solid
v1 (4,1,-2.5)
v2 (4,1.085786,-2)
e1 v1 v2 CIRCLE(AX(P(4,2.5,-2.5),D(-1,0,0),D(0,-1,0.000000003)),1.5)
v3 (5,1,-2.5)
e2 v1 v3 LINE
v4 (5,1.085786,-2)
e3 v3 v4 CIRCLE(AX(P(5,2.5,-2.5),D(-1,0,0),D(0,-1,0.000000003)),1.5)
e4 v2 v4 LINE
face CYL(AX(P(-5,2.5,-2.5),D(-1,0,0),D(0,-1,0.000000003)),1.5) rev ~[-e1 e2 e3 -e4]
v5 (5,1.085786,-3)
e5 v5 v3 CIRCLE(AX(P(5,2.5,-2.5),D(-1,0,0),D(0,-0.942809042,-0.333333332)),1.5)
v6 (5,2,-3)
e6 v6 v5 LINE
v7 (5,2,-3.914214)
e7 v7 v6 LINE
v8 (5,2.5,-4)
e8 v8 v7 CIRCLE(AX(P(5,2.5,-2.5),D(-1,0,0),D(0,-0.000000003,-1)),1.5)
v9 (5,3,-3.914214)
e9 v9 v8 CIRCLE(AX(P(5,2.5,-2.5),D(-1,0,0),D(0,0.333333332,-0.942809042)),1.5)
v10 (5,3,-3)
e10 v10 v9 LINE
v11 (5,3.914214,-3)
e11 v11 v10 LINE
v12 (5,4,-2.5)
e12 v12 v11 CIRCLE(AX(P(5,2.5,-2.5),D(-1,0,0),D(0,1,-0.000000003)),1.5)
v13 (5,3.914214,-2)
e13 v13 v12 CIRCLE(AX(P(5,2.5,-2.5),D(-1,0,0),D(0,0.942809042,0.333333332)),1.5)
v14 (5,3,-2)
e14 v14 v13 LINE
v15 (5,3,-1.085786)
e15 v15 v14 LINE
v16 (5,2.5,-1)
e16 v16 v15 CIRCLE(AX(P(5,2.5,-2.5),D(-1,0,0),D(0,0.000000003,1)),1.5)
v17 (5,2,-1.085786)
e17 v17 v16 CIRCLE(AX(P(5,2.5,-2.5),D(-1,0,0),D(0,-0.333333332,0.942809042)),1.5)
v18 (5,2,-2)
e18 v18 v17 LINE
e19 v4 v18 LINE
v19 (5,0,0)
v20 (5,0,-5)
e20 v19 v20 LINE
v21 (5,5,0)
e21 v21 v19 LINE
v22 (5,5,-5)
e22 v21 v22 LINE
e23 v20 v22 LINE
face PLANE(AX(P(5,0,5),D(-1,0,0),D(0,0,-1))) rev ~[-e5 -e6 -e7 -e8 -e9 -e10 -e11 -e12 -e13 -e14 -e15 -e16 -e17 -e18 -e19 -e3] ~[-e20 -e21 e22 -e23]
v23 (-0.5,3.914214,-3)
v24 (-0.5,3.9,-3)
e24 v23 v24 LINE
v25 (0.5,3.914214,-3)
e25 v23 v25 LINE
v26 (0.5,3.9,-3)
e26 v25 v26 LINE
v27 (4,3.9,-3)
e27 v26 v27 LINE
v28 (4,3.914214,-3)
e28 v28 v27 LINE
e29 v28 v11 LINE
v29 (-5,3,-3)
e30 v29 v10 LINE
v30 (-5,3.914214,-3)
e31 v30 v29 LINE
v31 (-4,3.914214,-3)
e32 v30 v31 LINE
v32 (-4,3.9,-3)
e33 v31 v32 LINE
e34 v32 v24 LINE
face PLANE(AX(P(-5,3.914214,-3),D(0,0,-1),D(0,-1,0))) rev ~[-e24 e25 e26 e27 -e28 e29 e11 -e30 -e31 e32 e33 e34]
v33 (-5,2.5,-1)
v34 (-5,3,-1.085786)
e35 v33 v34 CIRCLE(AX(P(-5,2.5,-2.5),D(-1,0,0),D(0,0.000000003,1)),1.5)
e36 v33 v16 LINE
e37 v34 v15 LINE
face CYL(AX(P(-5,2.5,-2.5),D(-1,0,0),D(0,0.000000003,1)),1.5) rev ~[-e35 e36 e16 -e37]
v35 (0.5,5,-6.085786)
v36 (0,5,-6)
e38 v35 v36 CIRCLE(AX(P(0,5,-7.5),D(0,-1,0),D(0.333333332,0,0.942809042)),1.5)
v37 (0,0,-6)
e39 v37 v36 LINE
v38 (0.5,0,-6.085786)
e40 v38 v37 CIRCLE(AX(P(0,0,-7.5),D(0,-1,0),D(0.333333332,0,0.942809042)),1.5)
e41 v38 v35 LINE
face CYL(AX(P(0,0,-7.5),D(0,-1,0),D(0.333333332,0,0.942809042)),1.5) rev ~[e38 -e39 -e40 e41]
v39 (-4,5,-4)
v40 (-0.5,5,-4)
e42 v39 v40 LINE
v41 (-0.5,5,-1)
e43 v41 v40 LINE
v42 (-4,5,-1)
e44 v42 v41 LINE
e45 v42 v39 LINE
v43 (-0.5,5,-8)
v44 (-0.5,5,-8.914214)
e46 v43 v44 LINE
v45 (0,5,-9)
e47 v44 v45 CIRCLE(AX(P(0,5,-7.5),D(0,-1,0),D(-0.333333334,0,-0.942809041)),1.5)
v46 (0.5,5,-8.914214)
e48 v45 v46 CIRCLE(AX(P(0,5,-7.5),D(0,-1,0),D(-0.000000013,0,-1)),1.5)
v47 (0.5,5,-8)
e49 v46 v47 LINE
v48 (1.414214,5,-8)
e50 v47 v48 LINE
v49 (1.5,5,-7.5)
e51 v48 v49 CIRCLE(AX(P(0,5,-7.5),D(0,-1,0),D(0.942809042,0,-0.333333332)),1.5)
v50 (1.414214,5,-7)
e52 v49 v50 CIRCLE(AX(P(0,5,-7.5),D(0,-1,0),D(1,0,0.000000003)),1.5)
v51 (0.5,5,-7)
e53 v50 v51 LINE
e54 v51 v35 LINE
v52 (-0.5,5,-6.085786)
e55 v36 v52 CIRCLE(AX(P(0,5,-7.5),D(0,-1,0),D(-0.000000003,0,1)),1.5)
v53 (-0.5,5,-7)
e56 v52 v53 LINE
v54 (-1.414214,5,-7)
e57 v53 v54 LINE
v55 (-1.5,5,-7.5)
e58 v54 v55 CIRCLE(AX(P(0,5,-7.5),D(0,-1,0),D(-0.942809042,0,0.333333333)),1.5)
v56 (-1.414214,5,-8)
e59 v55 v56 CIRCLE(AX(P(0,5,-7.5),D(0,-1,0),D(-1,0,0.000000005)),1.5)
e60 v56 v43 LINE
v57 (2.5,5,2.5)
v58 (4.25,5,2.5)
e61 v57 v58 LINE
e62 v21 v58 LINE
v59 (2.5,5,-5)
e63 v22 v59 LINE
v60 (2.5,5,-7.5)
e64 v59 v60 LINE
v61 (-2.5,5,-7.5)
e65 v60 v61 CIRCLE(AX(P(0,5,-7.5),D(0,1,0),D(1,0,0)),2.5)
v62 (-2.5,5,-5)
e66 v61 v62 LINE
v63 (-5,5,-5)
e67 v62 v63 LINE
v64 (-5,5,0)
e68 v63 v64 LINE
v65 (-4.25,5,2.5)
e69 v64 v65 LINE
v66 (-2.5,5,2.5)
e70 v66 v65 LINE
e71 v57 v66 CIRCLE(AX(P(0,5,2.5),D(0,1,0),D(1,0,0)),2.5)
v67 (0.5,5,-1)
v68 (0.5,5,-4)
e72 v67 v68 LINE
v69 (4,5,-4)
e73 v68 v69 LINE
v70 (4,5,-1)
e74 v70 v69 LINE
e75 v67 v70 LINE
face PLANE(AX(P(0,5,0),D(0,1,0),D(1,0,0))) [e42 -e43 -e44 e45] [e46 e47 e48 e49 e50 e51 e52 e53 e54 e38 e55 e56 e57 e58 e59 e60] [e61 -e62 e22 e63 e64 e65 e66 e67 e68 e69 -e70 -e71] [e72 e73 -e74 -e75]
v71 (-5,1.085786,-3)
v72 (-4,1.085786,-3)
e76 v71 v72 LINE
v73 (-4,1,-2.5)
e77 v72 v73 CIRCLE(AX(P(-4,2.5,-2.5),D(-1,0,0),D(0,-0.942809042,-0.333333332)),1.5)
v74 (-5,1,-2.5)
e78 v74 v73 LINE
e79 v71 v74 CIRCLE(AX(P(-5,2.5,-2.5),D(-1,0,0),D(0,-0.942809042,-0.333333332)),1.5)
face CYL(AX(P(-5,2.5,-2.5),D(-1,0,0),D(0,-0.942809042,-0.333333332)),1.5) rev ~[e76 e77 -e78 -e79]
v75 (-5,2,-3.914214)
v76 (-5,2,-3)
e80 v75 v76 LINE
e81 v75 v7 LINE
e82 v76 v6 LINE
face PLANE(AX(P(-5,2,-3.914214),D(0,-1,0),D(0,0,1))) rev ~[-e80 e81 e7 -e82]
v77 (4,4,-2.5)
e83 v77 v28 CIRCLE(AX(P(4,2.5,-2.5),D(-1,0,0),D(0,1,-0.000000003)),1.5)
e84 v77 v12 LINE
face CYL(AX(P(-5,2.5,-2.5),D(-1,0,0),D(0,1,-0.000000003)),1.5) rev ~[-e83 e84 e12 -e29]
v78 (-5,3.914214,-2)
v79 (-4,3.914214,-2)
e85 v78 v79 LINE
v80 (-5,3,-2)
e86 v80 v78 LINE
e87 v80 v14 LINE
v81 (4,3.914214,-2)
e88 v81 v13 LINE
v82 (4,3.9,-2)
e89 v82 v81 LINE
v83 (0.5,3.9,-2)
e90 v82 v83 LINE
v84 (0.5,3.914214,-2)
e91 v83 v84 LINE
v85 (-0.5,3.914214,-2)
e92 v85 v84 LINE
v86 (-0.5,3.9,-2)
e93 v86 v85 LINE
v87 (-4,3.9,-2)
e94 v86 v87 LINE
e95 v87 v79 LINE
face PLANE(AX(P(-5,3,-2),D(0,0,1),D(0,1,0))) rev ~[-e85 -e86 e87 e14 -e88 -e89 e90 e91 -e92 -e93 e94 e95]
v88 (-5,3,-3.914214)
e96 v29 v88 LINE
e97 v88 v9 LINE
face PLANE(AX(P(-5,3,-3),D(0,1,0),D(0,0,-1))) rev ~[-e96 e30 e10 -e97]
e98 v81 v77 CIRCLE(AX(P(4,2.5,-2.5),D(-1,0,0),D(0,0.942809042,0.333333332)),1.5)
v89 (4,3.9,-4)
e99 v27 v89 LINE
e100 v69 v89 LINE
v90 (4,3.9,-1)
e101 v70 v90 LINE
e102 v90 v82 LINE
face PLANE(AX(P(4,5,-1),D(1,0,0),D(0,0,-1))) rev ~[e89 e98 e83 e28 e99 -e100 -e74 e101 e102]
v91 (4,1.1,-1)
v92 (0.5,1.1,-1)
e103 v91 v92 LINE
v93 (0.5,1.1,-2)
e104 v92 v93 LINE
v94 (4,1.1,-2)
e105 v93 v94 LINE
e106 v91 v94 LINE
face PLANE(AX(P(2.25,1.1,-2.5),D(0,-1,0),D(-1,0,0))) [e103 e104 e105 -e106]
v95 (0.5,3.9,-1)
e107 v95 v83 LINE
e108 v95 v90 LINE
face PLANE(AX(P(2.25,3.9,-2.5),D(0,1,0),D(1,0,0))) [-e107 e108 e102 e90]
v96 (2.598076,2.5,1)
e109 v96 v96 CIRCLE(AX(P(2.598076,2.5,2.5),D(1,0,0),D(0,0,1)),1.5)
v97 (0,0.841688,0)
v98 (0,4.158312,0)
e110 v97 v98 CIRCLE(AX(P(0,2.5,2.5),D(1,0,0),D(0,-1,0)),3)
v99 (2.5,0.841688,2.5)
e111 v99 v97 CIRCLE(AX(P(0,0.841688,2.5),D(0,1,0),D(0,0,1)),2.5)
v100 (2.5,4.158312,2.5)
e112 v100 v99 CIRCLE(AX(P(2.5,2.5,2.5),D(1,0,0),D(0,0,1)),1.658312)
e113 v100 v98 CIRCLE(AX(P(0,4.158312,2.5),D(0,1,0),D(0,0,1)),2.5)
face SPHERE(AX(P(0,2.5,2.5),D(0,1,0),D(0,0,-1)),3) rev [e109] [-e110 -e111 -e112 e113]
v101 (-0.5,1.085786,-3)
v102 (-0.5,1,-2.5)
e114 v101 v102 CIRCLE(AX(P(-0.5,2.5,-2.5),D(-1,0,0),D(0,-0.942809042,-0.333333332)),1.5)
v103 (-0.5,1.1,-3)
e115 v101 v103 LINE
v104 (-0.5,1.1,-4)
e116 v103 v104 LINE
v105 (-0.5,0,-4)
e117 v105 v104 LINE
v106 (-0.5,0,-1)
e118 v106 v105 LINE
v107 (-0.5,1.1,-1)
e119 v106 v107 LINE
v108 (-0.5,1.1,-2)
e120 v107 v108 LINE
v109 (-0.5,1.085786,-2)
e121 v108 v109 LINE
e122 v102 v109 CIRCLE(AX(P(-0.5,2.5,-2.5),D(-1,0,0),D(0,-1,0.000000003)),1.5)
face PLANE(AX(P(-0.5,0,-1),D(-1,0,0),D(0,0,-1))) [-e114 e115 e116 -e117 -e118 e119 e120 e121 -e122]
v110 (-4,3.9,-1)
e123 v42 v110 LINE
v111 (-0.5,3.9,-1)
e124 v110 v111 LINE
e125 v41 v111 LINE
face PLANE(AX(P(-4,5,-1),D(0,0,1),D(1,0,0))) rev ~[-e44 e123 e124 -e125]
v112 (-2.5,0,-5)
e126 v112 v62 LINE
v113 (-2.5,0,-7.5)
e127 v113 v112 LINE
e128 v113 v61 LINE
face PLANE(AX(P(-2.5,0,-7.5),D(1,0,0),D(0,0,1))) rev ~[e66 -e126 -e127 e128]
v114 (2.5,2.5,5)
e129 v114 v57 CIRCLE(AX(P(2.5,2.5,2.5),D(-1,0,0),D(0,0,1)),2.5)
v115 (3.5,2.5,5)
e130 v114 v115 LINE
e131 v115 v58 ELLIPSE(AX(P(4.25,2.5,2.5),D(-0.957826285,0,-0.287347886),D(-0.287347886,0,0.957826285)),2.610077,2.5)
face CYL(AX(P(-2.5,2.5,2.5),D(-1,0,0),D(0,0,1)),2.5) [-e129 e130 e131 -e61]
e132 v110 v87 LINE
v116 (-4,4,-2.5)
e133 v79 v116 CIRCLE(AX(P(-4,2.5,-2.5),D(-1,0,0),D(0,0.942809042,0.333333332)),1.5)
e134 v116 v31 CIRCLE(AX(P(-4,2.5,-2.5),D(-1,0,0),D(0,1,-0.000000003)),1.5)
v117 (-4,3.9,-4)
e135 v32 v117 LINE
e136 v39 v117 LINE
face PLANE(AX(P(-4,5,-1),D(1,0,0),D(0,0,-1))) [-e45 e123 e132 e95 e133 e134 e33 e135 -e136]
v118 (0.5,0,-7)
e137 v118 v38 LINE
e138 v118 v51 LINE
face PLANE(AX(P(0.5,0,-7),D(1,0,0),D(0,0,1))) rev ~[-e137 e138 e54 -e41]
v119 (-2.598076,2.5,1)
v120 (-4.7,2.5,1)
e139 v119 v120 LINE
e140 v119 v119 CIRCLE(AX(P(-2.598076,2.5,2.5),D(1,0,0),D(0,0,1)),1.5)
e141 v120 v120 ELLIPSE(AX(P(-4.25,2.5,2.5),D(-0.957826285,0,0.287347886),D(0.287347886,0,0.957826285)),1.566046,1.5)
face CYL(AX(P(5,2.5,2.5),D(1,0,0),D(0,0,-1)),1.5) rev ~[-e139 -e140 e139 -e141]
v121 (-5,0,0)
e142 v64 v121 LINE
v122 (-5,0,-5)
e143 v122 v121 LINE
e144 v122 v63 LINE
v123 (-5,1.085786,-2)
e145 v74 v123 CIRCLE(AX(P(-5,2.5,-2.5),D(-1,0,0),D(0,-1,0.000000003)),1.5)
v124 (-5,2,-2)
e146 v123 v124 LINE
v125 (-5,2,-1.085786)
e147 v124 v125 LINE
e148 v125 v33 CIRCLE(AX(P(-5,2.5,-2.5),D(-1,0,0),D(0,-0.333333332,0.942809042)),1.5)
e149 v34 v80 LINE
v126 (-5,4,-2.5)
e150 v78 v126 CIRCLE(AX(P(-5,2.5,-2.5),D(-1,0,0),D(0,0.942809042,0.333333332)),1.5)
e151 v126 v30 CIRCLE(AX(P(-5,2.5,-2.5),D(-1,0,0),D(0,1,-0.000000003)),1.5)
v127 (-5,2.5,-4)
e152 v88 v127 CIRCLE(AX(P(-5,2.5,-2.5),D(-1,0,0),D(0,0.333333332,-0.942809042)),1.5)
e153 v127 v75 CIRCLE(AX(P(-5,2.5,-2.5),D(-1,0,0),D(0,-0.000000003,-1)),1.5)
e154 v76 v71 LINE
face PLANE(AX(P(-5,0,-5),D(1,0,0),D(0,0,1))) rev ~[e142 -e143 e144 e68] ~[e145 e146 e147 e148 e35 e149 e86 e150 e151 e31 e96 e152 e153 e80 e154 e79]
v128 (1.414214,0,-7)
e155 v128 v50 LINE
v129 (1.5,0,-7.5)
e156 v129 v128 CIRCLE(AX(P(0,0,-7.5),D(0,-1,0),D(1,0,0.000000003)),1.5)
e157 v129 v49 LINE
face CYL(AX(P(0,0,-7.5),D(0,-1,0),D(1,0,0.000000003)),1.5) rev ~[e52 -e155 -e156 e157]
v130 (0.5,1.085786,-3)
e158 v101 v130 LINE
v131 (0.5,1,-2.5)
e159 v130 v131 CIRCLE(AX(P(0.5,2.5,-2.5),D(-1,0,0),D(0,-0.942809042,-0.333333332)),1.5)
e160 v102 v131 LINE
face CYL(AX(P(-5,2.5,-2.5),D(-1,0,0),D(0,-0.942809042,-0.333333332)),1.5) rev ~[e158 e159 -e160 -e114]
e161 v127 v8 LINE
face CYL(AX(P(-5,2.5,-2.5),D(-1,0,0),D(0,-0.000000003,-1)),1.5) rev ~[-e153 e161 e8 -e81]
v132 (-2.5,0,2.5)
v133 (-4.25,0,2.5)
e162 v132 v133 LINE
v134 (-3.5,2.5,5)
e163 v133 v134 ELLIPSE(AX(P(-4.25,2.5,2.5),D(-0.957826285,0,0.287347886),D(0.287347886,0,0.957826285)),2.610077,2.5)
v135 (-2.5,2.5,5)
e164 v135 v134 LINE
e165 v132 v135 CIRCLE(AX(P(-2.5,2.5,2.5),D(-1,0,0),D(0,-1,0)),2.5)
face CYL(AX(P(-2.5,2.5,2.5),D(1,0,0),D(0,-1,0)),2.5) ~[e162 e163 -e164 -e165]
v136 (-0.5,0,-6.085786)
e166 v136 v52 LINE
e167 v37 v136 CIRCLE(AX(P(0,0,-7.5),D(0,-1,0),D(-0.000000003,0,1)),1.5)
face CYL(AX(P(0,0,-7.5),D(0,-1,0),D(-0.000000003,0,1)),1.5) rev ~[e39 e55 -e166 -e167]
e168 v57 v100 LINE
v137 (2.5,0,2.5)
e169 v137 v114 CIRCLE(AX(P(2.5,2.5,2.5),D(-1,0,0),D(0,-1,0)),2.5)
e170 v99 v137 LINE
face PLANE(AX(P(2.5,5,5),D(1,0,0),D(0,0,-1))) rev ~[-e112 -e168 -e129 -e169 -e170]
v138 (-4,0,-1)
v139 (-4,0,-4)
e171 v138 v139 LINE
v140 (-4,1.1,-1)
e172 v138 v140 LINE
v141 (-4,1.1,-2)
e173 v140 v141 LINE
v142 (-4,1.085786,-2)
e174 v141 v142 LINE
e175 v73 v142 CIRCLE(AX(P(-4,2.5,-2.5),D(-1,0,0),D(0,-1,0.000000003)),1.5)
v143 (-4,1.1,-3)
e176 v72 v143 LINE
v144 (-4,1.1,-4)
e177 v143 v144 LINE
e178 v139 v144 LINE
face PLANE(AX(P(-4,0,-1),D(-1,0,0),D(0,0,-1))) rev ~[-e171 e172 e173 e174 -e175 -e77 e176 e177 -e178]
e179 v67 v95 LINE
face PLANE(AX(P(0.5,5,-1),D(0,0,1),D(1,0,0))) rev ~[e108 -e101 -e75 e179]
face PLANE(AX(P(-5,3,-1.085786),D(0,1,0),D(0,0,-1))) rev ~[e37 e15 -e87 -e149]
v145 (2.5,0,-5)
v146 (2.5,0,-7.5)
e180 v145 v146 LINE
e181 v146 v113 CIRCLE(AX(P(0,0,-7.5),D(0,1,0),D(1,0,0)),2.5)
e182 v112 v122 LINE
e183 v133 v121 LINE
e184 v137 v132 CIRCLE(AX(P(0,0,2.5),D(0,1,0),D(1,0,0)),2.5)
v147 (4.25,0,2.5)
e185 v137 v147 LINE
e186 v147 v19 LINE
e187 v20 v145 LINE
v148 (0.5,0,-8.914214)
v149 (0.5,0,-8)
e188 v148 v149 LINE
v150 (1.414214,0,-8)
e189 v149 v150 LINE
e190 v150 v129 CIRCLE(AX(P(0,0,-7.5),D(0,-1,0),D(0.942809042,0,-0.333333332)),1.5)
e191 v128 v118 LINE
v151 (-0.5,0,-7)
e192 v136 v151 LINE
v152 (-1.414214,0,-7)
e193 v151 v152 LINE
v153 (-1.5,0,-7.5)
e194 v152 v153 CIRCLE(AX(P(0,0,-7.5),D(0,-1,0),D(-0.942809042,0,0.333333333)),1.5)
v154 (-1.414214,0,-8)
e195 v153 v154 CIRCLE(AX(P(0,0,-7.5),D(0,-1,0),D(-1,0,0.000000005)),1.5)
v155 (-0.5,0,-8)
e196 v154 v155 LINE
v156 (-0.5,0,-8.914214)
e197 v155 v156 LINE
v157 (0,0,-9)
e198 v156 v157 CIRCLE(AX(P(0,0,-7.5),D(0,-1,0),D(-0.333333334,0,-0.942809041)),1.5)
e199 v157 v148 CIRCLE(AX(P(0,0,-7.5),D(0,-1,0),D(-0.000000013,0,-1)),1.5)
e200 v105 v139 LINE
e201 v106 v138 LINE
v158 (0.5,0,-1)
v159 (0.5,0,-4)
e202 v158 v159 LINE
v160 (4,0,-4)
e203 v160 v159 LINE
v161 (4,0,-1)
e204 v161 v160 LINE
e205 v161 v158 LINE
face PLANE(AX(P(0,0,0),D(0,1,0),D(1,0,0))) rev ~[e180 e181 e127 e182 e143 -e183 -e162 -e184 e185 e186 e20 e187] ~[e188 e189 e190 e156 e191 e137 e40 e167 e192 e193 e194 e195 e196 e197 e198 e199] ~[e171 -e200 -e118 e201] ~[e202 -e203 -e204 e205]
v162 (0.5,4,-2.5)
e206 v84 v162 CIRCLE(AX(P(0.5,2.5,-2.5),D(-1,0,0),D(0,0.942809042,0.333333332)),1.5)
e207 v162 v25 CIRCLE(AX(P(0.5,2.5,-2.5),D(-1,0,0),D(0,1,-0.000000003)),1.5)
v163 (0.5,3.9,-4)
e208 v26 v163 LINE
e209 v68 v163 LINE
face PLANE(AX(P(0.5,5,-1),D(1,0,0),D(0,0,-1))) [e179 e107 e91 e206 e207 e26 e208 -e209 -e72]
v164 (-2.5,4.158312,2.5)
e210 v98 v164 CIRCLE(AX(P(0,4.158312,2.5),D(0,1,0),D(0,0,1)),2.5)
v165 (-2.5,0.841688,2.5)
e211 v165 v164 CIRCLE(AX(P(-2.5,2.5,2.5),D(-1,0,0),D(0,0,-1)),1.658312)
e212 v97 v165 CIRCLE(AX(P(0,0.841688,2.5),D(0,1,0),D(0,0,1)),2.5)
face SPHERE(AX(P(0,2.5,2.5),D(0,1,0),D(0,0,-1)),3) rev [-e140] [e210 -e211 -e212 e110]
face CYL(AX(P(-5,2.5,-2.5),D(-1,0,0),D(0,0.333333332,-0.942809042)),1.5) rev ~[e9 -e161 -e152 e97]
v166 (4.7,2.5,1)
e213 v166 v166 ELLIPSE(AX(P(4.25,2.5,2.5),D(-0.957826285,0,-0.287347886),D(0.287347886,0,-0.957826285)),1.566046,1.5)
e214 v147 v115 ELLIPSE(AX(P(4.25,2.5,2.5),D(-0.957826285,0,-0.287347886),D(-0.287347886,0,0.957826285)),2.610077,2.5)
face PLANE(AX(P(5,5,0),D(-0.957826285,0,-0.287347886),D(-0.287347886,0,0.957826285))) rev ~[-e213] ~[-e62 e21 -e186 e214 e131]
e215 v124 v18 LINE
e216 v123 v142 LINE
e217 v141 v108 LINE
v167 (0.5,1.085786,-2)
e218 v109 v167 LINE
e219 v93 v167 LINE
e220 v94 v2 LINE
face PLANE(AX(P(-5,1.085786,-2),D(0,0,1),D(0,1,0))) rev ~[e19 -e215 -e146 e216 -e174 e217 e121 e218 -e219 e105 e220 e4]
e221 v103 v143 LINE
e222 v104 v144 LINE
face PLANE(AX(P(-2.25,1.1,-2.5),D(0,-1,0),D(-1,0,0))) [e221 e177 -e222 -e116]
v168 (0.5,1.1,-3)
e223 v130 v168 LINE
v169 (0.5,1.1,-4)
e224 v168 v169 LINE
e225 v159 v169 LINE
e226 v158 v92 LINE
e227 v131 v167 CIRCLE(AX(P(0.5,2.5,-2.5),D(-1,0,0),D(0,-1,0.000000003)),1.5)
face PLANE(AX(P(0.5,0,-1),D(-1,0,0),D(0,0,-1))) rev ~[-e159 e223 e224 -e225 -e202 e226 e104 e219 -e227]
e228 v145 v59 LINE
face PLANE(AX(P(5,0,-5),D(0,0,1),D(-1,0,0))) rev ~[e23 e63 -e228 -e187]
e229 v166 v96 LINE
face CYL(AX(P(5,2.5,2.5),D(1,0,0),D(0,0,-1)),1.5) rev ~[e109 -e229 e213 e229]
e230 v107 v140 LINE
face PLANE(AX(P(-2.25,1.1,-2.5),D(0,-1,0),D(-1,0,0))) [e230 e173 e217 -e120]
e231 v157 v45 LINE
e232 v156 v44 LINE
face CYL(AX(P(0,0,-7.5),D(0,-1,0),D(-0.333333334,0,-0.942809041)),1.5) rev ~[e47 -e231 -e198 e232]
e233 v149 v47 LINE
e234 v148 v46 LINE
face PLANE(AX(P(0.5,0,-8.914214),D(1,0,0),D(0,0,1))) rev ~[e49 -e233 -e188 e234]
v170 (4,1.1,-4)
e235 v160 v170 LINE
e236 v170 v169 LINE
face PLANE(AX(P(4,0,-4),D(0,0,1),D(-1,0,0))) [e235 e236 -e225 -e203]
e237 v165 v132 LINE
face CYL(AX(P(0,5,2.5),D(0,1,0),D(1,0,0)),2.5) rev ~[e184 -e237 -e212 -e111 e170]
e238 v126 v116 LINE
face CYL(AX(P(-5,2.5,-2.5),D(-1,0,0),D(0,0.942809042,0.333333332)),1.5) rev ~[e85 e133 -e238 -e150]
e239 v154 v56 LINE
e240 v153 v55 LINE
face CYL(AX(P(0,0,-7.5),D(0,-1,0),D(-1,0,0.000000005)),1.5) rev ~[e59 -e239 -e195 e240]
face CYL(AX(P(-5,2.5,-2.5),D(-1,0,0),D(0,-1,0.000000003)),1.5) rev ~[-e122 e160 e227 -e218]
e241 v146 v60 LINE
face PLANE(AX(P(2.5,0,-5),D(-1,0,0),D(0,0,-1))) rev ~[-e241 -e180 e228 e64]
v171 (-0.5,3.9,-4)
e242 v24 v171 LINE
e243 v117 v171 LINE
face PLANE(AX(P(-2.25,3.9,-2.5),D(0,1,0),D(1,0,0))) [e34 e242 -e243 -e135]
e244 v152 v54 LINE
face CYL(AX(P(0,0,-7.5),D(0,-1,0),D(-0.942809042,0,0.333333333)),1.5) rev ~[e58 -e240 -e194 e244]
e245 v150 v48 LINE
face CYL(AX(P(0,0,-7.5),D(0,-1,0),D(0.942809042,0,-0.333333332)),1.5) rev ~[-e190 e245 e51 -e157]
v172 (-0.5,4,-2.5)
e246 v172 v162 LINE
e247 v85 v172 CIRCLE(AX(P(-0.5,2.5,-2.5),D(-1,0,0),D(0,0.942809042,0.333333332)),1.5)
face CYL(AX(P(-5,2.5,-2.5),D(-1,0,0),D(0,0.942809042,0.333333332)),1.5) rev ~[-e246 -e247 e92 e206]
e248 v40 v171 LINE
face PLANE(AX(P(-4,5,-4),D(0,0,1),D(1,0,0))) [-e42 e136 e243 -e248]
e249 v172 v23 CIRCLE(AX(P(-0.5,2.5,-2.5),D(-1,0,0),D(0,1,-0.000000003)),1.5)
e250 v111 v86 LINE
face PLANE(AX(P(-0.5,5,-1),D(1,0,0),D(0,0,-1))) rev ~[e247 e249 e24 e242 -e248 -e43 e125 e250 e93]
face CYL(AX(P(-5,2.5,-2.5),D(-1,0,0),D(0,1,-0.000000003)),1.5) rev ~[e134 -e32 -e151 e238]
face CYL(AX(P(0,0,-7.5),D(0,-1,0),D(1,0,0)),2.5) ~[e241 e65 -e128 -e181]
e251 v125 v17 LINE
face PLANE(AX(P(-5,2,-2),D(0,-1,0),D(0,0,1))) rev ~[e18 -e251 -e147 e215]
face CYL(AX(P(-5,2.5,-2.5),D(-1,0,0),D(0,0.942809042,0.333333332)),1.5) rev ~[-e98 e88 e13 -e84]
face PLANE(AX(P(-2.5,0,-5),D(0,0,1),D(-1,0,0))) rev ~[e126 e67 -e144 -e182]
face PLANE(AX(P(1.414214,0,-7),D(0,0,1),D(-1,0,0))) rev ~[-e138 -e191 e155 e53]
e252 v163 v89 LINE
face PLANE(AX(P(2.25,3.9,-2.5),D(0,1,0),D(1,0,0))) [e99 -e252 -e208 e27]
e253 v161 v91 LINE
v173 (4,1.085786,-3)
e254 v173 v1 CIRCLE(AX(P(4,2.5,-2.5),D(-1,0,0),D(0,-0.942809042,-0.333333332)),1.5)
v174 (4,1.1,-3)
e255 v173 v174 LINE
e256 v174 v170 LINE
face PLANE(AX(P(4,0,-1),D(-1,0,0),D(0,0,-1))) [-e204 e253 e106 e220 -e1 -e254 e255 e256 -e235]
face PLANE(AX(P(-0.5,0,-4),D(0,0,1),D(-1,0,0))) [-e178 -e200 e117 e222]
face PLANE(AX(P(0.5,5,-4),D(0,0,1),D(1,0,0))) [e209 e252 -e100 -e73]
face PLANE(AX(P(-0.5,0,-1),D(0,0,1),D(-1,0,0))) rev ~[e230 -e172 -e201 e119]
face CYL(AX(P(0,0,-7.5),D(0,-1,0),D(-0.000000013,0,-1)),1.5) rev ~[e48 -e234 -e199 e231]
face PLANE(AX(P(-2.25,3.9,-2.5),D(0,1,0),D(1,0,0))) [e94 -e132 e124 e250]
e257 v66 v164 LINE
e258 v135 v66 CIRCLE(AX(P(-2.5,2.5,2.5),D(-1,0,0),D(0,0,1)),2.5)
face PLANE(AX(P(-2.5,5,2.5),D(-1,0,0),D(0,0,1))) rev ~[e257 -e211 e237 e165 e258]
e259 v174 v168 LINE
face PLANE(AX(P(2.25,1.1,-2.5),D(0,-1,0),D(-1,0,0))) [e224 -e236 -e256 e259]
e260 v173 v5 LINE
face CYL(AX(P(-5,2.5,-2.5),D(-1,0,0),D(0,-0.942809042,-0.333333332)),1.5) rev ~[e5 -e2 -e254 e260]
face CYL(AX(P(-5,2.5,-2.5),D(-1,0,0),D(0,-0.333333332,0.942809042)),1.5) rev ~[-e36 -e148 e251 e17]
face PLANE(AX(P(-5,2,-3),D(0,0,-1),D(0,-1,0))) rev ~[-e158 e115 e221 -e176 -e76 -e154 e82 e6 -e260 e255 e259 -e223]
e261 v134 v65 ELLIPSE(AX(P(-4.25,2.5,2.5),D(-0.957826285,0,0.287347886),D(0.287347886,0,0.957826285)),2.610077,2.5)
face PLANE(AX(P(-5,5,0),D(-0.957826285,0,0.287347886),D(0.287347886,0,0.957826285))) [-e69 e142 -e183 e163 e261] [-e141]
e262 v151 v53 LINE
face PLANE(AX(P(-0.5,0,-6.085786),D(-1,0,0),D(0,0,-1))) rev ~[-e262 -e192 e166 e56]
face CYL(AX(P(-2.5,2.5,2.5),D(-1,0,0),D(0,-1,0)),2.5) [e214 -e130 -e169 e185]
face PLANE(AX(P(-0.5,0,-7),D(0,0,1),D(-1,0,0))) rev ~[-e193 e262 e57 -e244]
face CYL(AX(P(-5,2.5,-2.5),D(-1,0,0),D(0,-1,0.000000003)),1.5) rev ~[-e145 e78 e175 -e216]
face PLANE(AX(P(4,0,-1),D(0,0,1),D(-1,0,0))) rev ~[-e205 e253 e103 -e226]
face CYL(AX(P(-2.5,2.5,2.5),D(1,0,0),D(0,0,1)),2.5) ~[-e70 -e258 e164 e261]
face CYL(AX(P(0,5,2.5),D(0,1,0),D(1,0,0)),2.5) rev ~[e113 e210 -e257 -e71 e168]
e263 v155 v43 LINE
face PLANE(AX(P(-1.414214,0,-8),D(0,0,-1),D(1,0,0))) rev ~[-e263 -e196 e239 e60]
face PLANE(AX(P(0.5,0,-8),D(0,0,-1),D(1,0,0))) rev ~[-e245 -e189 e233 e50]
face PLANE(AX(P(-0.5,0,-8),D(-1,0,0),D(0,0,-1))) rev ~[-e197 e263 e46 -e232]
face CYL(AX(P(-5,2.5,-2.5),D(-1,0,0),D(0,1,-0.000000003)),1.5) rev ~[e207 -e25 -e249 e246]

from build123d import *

# Parameters (mm, degrees)
BOSS_EXTRUDE1_DEPTH     = 5
SKETCH3_R               = 1.5
CUT_EXTRUDE1_DEPTH      = 10
CUT_EXTRUDE2_REACH      = 7
CUT_EXTRUDE4_DEPTH      = 10
CUT_EXTRUDE5_DEPTH      = 10
CUT_EXTRUDE5_DEPTH_BACK = 10
CUT_EXTRUDE6_DEPTH      = 10
SKETCH8_W               = 3.5
SKETCH8_H               = 3
CUT_EXTRUDE13_DEPTH     = 1.1
SKETCH9_W               = 3.5
SKETCH9_H               = 3
CUT_EXTRUDE14_DEPTH     = 1.1


with BuildPart() as part:
    # Sketch1 → Boss-Extrude1 (new body)
    with BuildSketch(Plane(origin=(0, 0, 0), x_dir=(1, 0, 0), z_dir=(0, 1, 0))):
        Polygon((-5, 5), (-5, -5), (5, -5), (5, 5), (2.5, 5), (1e-09, 5), (-2.5, 5), align=None)
        with BuildLine():
            Line((-2.5, 7.5), (-2.5, 5))
            Line((-2.5, 5), (1e-09, 5))
            ThreePointArc((1e-09, 5), (-1.767766953, 5.732233047), (-2.5, 7.5))
        make_face()
        with BuildLine():
            Line((1e-09, 5), (2.5, 5))
            Line((2.5, 5), (2.5, 7.5))
            ThreePointArc((2.5, 7.5), (1.767766953, 5.732233047), (1e-09, 5))
        make_face()
        with BuildLine():
            ThreePointArc((2.5, 7.5), (0, 10), (-2.5, 7.5))
            Line((-2.5, 7.5), (-1.5, 7.5))
            Line((-1.5, 7.499999998), (-1.5, 8))
            Line((-1.5, 8), (-1.414213562, 8))
            ThreePointArc((-1.414213562, 8), (-1.060660172, 8.560660172), (-0.5, 8.914213562))
            Line((-0.5, 8.914213562), (-0.5, 9))
            Line((-0.5, 9), (-1.7e-08, 9))
            Line((-1.7e-08, 9), (0.5, 9))
            Line((0.5, 9), (0.5, 8.914213562))
            ThreePointArc((0.5, 8.914213562), (1.060660172, 8.560660172), (1.414213562, 8))
            Line((1.414213562, 8), (1.5, 8))
            Line((1.5, 8), (1.5, 7.5))
            Line((1.5, 7.5), (2.5, 7.5))
        make_face()
        with BuildLine():
            ThreePointArc((-2.5, 7.5), (-1.767766953, 5.732233047), (1e-09, 5))
            ThreePointArc((1e-09, 5), (1.767766953, 5.732233047), (2.5, 7.5))
            Line((2.5, 7.5), (1.5, 7.5))
            Line((1.5, 7.5), (1.5, 7))
            Line((1.5, 7), (1.414213562, 7))
            ThreePointArc((1.414213562, 7), (1.060660172, 6.439339828), (0.5, 6.085786438))
            Line((0.5, 6.085786438), (0.5, 6))
            Line((0.5, 6), (0, 6))
            Line((0, 6), (-0.5, 6))
            Line((-0.5, 6), (-0.5, 6.085786438))
            ThreePointArc((-0.5, 6.085786438), (-1.060660172, 6.439339828), (-1.414213562, 7))
            Line((-1.414213562, 7), (-1.5, 7))
            Line((-1.5, 7), (-1.5, 7.499999998))
            Line((-1.5, 7.5), (-2.5, 7.5))
        make_face()
        with BuildLine():
            Line((0.5, 6), (0.5, 6.085786438))
            ThreePointArc((0.5, 6.085786438), (0.253652968, 6.021602161), (0, 6))
            Line((0, 6), (0.5, 6))
        make_face()
        with BuildLine():
            Line((-0.5, 7), (-1.414213562, 7))
            ThreePointArc((-1.414213562, 7), (-1.060660172, 6.439339828), (-0.5, 6.085786438))
            Line((-0.5, 6.085786438), (-0.5, 7))
        make_face()
        with BuildLine():
            ThreePointArc((0.5, 6.085786438), (1.060660172, 6.439339828), (1.414213562, 7))
            Line((1.414213562, 7), (0.5, 7))
            Line((0.5, 7), (0.5, 6.085786438))
        make_face()
        with BuildLine():
            Line((0.5, 8), (1.414213562, 8))
            ThreePointArc((1.414213562, 8), (1.060660172, 8.560660172), (0.5, 8.914213562))
            Line((0.5, 8.914213562), (0.5, 8))
        make_face()
        with BuildLine():
            ThreePointArc((-0.5, 8.914213562), (-1.060660172, 8.560660172), (-1.414213562, 8))
            Line((-1.414213562, 8), (-0.5, 8))
            Line((-0.5, 8), (-0.5, 8.914213562))
        make_face()
        with BuildLine():
            Line((-0.5, 9), (-0.5, 8.914213562))
            ThreePointArc((-0.5, 8.914213562), (-0.253652976, 8.978397838), (-1.7e-08, 9))
            Line((-1.7e-08, 9), (-0.5, 9))
        make_face()
        with BuildLine():
            ThreePointArc((-1.7e-08, 9), (0.25365296, 8.978397841), (0.5, 8.914213562))
            Line((0.5, 8.914213562), (0.5, 9))
            Line((0.5, 9), (-1.7e-08, 9))
        make_face()
        with BuildLine():
            ThreePointArc((-1.414213562, 7), (-1.478397839, 7.246347031), (-1.5, 7.499999998))
            Line((-1.5, 7.499999998), (-1.5, 7))
            Line((-1.5, 7), (-1.414213562, 7))
        make_face()
        with BuildLine():
            ThreePointArc((0, 6), (-0.253652968, 6.021602161), (-0.5, 6.085786438))
            Line((-0.5, 6.085786438), (-0.5, 6))
            Line((-0.5, 6), (0, 6))
        make_face()
        with BuildLine():
            Line((-1.5, 8), (-1.5, 7.499999998))
            ThreePointArc((-1.5, 7.499999998), (-1.47839784, 7.753652967), (-1.414213562, 8))
            Line((-1.414213562, 8), (-1.5, 8))
        make_face()
        with BuildLine():
            Line((1.5, 7), (1.5, 7.5))
            ThreePointArc((1.5, 7.5), (1.478397839, 7.246347032), (1.414213562, 7))
            Line((1.414213562, 7), (1.5, 7))
        make_face()
        with BuildLine():
            ThreePointArc((1.414213562, 8), (1.478397839, 7.753652968), (1.5, 7.5))
            Line((1.5, 7.5), (1.5, 8))
            Line((1.5, 8), (1.414213562, 8))
        make_face()
    extrude(amount=BOSS_EXTRUDE1_DEPTH)

    # Sketch2 → Cut-Revolve3 (revolve, cut)
    with BuildSketch(Plane(origin=(0, 0, 0), x_dir=(0, 0, -1), z_dir=(1, 0, 0))):
        with BuildLine():
            Line((-2.5, 5.5), (-2.5, -0.5))
            ThreePointArc((-2.5, -0.5), (0.5, 2.5), (-2.5, 5.5))
        make_face()
    revolve(axis=Axis((0, 5.5, 2.5), (0, -1, 0)), mode=Mode.SUBTRACT)

    # Sketch3 → Cut-Extrude1 (cut)
    with BuildSketch(Plane(origin=(5, 0, 0), x_dir=(0, 0, -1), z_dir=(1, 0, 0))):
        with Locations((-2.5, 2.5)):
            Circle(SKETCH3_R)
    extrude(amount=-CUT_EXTRUDE1_DEPTH, mode=Mode.SUBTRACT)

    # Sketch4 → Cut-Extrude2 (cut, up to next)
    with BuildSketch(Plane(origin=(0, 5, 0), x_dir=(1, 0, 0), z_dir=(0, 1, 0)), mode=Mode.PRIVATE) as cut_extrude2_sk1:
        Polygon((-5, 0), (-3.5, -5), (-5, -5), align=None)
    cut_extrude2_tool1 = extrude(cut_extrude2_sk1.sketch, amount=-CUT_EXTRUDE2_REACH, mode=Mode.PRIVATE) & part.part
    add(cut_extrude2_tool1.solids().sort_by_distance((-4.5, 5, 3.333333))[0], mode=Mode.SUBTRACT)
    # Sketch4 → Cut-Extrude2 (cut, up to next)
    with BuildSketch(Plane(origin=(0, 5, 0), x_dir=(1, 0, 0), z_dir=(0, 1, 0)), mode=Mode.PRIVATE) as cut_extrude2_sk2:
        Polygon((5, 0), (3.5, -5), (5, -5), align=None)
    cut_extrude2_tool2 = extrude(cut_extrude2_sk2.sketch, amount=-CUT_EXTRUDE2_REACH, mode=Mode.PRIVATE) & part.part
    add(cut_extrude2_tool2.solids().sort_by_distance((4.5, 5, 3.333333))[0], mode=Mode.SUBTRACT)

    # Sketch5 → Cut-Extrude4 (cut)
    with BuildSketch(Plane(origin=(0, 5, 0), x_dir=(1, 0, 0), z_dir=(0, 1, 0))):
        with BuildLine():
            ThreePointArc((-1.658312395, -2.5), (0, -0.841687605), (1.658312395, -2.5))
            Line((1.658312395, -2.5), (2.5, -2.5))
            ThreePointArc((2.5, -2.5), (0, 0), (-2.5, -2.5))
            Line((-2.5, -2.5), (-1.658312395, -2.5))
        make_face()
        with BuildLine():
            Line((2.5, -2.5), (1.658312395, -2.5))
            ThreePointArc((1.658312395, -2.5), (0, -4.158312395), (-1.658312395, -2.5))
            Line((-1.658312395, -2.5), (-2.5, -2.5))
            ThreePointArc((-2.5, -2.5), (-1.767766953, -4.267766953), (0, -5))
            ThreePointArc((0, -5), (1.767766953, -4.267766953), (2.5, -2.5))
        make_face()
        with BuildLine():
            Line((2.5, -5), (2.5, -2.5))
            ThreePointArc((2.5, -2.5), (1.767766953, -4.267766953), (0, -5))
            Line((0, -5), (2.5, -5))
        make_face()
        with BuildLine():
            ThreePointArc((0, -5), (-1.767766953, -4.267766953), (-2.5, -2.5))
            Line((-2.5, -2.5), (-2.5, -5))
            Line((-2.5, -5), (0, -5))
        make_face()
    extrude(amount=-CUT_EXTRUDE4_DEPTH, mode=Mode.SUBTRACT)

    # Sketch6 → Cut-Extrude5 (cut, two sides)
    with BuildSketch(Plane(origin=(-2.5, 0, 0), x_dir=(0, 0, -1), z_dir=(1, 0, 0))) as cut_extrude5_sk:
        with BuildLine():
            ThreePointArc((-5, 2.5), (-4.267766953, 4.267766953), (-2.5, 5))
            Line((-2.5, 5), (-5, 5))
            Line((-5, 5), (-5, 2.5))
        make_face()
        with BuildLine():
            Line((-5, 0), (-2.5, 0))
            ThreePointArc((-2.5, 0), (-4.267766953, 0.732233047), (-5, 2.5))
            Line((-5, 2.5), (-5, 0))
        make_face()
    extrude(amount=CUT_EXTRUDE5_DEPTH, mode=Mode.SUBTRACT)
    extrude(cut_extrude5_sk.sketch, amount=-CUT_EXTRUDE5_DEPTH_BACK, mode=Mode.SUBTRACT)

    # Sketch7 → Cut-Extrude6 (cut)
    with BuildSketch(Plane.ZY.offset(5)):
        with BuildLine():
            Line((-3.914213562, 2), (-3, 2))
            Line((-3, 2), (-3, 3))
            Line((-3, 3), (-3.914213562, 3))
            ThreePointArc((-3.914213562, 3), (-3.978397839, 2.753652968), (-4, 2.5))
            ThreePointArc((-4, 2.5), (-3.978397839, 2.246347032), (-3.914213562, 2))
        make_face()
        Polygon((-3, 3), (-3, 2), (-2, 3), align=None)
        with BuildLine():
            Line((-3, 3), (-2, 3))
            Line((-2, 3), (-2, 3.914213562))
            ThreePointArc((-2, 3.914213562), (-2.246347032, 3.978397839), (-2.5, 4))
            ThreePointArc((-2.5, 4), (-2.753652968, 3.978397839), (-3, 3.914213562))
            Line((-3, 3.914213562), (-3, 3))
        make_face()
        Polygon((-2, 3), (-3, 2), (-2, 2), align=None)
        with BuildLine():
            Line((-1.085786438, 3), (-2, 3))
            Line((-2, 3), (-2, 2))
            Line((-2, 2), (-1.085786438, 2))
            ThreePointArc((-1.085786438, 2), (-1.021602161, 2.246347032), (-1, 2.5))
            ThreePointArc((-1, 2.5), (-1.021602161, 2.753652968), (-1.085786438, 3))
        make_face()
        with BuildLine():
            Line((-2, 2), (-3, 2))
            Line((-3, 2), (-3, 1.085786438))
            ThreePointArc((-3, 1.085786438), (-2.753652968, 1.021602161), (-2.5, 1))
            ThreePointArc((-2.5, 1), (-2.246347032, 1.021602161), (-2, 1.085786438))
            Line((-2, 1.085786438), (-2, 2))
        make_face()
    extrude(amount=-CUT_EXTRUDE6_DEPTH, mode=Mode.SUBTRACT)

    # Sketch8 → Cut-Extrude13 (cut)
    with BuildSketch(Plane(origin=(0, 5, 0), x_dir=(1, 0, 0), z_dir=(0, 1, 0))):
        with Locations((2.25, 2.5)):
            Rectangle(SKETCH8_W, SKETCH8_H)
        with Locations((-2.25, 2.5)):
            Rectangle(SKETCH8_W, SKETCH8_H)
    extrude(amount=-CUT_EXTRUDE13_DEPTH, mode=Mode.SUBTRACT)

    # Sketch9 → Cut-Extrude14 (cut)
    with BuildSketch(Plane(origin=(0, 0, 0), x_dir=(-1, 0, 0), z_dir=(0, -1, 0))):
        with Locations((-2.25, 2.5)):
            Rectangle(SKETCH9_W, SKETCH9_H)
        with Locations((2.25, 2.5)):
            Rectangle(SKETCH9_W, SKETCH9_H)
    extrude(amount=-CUT_EXTRUDE14_DEPTH, mode=Mode.SUBTRACT)


solid = part.part
